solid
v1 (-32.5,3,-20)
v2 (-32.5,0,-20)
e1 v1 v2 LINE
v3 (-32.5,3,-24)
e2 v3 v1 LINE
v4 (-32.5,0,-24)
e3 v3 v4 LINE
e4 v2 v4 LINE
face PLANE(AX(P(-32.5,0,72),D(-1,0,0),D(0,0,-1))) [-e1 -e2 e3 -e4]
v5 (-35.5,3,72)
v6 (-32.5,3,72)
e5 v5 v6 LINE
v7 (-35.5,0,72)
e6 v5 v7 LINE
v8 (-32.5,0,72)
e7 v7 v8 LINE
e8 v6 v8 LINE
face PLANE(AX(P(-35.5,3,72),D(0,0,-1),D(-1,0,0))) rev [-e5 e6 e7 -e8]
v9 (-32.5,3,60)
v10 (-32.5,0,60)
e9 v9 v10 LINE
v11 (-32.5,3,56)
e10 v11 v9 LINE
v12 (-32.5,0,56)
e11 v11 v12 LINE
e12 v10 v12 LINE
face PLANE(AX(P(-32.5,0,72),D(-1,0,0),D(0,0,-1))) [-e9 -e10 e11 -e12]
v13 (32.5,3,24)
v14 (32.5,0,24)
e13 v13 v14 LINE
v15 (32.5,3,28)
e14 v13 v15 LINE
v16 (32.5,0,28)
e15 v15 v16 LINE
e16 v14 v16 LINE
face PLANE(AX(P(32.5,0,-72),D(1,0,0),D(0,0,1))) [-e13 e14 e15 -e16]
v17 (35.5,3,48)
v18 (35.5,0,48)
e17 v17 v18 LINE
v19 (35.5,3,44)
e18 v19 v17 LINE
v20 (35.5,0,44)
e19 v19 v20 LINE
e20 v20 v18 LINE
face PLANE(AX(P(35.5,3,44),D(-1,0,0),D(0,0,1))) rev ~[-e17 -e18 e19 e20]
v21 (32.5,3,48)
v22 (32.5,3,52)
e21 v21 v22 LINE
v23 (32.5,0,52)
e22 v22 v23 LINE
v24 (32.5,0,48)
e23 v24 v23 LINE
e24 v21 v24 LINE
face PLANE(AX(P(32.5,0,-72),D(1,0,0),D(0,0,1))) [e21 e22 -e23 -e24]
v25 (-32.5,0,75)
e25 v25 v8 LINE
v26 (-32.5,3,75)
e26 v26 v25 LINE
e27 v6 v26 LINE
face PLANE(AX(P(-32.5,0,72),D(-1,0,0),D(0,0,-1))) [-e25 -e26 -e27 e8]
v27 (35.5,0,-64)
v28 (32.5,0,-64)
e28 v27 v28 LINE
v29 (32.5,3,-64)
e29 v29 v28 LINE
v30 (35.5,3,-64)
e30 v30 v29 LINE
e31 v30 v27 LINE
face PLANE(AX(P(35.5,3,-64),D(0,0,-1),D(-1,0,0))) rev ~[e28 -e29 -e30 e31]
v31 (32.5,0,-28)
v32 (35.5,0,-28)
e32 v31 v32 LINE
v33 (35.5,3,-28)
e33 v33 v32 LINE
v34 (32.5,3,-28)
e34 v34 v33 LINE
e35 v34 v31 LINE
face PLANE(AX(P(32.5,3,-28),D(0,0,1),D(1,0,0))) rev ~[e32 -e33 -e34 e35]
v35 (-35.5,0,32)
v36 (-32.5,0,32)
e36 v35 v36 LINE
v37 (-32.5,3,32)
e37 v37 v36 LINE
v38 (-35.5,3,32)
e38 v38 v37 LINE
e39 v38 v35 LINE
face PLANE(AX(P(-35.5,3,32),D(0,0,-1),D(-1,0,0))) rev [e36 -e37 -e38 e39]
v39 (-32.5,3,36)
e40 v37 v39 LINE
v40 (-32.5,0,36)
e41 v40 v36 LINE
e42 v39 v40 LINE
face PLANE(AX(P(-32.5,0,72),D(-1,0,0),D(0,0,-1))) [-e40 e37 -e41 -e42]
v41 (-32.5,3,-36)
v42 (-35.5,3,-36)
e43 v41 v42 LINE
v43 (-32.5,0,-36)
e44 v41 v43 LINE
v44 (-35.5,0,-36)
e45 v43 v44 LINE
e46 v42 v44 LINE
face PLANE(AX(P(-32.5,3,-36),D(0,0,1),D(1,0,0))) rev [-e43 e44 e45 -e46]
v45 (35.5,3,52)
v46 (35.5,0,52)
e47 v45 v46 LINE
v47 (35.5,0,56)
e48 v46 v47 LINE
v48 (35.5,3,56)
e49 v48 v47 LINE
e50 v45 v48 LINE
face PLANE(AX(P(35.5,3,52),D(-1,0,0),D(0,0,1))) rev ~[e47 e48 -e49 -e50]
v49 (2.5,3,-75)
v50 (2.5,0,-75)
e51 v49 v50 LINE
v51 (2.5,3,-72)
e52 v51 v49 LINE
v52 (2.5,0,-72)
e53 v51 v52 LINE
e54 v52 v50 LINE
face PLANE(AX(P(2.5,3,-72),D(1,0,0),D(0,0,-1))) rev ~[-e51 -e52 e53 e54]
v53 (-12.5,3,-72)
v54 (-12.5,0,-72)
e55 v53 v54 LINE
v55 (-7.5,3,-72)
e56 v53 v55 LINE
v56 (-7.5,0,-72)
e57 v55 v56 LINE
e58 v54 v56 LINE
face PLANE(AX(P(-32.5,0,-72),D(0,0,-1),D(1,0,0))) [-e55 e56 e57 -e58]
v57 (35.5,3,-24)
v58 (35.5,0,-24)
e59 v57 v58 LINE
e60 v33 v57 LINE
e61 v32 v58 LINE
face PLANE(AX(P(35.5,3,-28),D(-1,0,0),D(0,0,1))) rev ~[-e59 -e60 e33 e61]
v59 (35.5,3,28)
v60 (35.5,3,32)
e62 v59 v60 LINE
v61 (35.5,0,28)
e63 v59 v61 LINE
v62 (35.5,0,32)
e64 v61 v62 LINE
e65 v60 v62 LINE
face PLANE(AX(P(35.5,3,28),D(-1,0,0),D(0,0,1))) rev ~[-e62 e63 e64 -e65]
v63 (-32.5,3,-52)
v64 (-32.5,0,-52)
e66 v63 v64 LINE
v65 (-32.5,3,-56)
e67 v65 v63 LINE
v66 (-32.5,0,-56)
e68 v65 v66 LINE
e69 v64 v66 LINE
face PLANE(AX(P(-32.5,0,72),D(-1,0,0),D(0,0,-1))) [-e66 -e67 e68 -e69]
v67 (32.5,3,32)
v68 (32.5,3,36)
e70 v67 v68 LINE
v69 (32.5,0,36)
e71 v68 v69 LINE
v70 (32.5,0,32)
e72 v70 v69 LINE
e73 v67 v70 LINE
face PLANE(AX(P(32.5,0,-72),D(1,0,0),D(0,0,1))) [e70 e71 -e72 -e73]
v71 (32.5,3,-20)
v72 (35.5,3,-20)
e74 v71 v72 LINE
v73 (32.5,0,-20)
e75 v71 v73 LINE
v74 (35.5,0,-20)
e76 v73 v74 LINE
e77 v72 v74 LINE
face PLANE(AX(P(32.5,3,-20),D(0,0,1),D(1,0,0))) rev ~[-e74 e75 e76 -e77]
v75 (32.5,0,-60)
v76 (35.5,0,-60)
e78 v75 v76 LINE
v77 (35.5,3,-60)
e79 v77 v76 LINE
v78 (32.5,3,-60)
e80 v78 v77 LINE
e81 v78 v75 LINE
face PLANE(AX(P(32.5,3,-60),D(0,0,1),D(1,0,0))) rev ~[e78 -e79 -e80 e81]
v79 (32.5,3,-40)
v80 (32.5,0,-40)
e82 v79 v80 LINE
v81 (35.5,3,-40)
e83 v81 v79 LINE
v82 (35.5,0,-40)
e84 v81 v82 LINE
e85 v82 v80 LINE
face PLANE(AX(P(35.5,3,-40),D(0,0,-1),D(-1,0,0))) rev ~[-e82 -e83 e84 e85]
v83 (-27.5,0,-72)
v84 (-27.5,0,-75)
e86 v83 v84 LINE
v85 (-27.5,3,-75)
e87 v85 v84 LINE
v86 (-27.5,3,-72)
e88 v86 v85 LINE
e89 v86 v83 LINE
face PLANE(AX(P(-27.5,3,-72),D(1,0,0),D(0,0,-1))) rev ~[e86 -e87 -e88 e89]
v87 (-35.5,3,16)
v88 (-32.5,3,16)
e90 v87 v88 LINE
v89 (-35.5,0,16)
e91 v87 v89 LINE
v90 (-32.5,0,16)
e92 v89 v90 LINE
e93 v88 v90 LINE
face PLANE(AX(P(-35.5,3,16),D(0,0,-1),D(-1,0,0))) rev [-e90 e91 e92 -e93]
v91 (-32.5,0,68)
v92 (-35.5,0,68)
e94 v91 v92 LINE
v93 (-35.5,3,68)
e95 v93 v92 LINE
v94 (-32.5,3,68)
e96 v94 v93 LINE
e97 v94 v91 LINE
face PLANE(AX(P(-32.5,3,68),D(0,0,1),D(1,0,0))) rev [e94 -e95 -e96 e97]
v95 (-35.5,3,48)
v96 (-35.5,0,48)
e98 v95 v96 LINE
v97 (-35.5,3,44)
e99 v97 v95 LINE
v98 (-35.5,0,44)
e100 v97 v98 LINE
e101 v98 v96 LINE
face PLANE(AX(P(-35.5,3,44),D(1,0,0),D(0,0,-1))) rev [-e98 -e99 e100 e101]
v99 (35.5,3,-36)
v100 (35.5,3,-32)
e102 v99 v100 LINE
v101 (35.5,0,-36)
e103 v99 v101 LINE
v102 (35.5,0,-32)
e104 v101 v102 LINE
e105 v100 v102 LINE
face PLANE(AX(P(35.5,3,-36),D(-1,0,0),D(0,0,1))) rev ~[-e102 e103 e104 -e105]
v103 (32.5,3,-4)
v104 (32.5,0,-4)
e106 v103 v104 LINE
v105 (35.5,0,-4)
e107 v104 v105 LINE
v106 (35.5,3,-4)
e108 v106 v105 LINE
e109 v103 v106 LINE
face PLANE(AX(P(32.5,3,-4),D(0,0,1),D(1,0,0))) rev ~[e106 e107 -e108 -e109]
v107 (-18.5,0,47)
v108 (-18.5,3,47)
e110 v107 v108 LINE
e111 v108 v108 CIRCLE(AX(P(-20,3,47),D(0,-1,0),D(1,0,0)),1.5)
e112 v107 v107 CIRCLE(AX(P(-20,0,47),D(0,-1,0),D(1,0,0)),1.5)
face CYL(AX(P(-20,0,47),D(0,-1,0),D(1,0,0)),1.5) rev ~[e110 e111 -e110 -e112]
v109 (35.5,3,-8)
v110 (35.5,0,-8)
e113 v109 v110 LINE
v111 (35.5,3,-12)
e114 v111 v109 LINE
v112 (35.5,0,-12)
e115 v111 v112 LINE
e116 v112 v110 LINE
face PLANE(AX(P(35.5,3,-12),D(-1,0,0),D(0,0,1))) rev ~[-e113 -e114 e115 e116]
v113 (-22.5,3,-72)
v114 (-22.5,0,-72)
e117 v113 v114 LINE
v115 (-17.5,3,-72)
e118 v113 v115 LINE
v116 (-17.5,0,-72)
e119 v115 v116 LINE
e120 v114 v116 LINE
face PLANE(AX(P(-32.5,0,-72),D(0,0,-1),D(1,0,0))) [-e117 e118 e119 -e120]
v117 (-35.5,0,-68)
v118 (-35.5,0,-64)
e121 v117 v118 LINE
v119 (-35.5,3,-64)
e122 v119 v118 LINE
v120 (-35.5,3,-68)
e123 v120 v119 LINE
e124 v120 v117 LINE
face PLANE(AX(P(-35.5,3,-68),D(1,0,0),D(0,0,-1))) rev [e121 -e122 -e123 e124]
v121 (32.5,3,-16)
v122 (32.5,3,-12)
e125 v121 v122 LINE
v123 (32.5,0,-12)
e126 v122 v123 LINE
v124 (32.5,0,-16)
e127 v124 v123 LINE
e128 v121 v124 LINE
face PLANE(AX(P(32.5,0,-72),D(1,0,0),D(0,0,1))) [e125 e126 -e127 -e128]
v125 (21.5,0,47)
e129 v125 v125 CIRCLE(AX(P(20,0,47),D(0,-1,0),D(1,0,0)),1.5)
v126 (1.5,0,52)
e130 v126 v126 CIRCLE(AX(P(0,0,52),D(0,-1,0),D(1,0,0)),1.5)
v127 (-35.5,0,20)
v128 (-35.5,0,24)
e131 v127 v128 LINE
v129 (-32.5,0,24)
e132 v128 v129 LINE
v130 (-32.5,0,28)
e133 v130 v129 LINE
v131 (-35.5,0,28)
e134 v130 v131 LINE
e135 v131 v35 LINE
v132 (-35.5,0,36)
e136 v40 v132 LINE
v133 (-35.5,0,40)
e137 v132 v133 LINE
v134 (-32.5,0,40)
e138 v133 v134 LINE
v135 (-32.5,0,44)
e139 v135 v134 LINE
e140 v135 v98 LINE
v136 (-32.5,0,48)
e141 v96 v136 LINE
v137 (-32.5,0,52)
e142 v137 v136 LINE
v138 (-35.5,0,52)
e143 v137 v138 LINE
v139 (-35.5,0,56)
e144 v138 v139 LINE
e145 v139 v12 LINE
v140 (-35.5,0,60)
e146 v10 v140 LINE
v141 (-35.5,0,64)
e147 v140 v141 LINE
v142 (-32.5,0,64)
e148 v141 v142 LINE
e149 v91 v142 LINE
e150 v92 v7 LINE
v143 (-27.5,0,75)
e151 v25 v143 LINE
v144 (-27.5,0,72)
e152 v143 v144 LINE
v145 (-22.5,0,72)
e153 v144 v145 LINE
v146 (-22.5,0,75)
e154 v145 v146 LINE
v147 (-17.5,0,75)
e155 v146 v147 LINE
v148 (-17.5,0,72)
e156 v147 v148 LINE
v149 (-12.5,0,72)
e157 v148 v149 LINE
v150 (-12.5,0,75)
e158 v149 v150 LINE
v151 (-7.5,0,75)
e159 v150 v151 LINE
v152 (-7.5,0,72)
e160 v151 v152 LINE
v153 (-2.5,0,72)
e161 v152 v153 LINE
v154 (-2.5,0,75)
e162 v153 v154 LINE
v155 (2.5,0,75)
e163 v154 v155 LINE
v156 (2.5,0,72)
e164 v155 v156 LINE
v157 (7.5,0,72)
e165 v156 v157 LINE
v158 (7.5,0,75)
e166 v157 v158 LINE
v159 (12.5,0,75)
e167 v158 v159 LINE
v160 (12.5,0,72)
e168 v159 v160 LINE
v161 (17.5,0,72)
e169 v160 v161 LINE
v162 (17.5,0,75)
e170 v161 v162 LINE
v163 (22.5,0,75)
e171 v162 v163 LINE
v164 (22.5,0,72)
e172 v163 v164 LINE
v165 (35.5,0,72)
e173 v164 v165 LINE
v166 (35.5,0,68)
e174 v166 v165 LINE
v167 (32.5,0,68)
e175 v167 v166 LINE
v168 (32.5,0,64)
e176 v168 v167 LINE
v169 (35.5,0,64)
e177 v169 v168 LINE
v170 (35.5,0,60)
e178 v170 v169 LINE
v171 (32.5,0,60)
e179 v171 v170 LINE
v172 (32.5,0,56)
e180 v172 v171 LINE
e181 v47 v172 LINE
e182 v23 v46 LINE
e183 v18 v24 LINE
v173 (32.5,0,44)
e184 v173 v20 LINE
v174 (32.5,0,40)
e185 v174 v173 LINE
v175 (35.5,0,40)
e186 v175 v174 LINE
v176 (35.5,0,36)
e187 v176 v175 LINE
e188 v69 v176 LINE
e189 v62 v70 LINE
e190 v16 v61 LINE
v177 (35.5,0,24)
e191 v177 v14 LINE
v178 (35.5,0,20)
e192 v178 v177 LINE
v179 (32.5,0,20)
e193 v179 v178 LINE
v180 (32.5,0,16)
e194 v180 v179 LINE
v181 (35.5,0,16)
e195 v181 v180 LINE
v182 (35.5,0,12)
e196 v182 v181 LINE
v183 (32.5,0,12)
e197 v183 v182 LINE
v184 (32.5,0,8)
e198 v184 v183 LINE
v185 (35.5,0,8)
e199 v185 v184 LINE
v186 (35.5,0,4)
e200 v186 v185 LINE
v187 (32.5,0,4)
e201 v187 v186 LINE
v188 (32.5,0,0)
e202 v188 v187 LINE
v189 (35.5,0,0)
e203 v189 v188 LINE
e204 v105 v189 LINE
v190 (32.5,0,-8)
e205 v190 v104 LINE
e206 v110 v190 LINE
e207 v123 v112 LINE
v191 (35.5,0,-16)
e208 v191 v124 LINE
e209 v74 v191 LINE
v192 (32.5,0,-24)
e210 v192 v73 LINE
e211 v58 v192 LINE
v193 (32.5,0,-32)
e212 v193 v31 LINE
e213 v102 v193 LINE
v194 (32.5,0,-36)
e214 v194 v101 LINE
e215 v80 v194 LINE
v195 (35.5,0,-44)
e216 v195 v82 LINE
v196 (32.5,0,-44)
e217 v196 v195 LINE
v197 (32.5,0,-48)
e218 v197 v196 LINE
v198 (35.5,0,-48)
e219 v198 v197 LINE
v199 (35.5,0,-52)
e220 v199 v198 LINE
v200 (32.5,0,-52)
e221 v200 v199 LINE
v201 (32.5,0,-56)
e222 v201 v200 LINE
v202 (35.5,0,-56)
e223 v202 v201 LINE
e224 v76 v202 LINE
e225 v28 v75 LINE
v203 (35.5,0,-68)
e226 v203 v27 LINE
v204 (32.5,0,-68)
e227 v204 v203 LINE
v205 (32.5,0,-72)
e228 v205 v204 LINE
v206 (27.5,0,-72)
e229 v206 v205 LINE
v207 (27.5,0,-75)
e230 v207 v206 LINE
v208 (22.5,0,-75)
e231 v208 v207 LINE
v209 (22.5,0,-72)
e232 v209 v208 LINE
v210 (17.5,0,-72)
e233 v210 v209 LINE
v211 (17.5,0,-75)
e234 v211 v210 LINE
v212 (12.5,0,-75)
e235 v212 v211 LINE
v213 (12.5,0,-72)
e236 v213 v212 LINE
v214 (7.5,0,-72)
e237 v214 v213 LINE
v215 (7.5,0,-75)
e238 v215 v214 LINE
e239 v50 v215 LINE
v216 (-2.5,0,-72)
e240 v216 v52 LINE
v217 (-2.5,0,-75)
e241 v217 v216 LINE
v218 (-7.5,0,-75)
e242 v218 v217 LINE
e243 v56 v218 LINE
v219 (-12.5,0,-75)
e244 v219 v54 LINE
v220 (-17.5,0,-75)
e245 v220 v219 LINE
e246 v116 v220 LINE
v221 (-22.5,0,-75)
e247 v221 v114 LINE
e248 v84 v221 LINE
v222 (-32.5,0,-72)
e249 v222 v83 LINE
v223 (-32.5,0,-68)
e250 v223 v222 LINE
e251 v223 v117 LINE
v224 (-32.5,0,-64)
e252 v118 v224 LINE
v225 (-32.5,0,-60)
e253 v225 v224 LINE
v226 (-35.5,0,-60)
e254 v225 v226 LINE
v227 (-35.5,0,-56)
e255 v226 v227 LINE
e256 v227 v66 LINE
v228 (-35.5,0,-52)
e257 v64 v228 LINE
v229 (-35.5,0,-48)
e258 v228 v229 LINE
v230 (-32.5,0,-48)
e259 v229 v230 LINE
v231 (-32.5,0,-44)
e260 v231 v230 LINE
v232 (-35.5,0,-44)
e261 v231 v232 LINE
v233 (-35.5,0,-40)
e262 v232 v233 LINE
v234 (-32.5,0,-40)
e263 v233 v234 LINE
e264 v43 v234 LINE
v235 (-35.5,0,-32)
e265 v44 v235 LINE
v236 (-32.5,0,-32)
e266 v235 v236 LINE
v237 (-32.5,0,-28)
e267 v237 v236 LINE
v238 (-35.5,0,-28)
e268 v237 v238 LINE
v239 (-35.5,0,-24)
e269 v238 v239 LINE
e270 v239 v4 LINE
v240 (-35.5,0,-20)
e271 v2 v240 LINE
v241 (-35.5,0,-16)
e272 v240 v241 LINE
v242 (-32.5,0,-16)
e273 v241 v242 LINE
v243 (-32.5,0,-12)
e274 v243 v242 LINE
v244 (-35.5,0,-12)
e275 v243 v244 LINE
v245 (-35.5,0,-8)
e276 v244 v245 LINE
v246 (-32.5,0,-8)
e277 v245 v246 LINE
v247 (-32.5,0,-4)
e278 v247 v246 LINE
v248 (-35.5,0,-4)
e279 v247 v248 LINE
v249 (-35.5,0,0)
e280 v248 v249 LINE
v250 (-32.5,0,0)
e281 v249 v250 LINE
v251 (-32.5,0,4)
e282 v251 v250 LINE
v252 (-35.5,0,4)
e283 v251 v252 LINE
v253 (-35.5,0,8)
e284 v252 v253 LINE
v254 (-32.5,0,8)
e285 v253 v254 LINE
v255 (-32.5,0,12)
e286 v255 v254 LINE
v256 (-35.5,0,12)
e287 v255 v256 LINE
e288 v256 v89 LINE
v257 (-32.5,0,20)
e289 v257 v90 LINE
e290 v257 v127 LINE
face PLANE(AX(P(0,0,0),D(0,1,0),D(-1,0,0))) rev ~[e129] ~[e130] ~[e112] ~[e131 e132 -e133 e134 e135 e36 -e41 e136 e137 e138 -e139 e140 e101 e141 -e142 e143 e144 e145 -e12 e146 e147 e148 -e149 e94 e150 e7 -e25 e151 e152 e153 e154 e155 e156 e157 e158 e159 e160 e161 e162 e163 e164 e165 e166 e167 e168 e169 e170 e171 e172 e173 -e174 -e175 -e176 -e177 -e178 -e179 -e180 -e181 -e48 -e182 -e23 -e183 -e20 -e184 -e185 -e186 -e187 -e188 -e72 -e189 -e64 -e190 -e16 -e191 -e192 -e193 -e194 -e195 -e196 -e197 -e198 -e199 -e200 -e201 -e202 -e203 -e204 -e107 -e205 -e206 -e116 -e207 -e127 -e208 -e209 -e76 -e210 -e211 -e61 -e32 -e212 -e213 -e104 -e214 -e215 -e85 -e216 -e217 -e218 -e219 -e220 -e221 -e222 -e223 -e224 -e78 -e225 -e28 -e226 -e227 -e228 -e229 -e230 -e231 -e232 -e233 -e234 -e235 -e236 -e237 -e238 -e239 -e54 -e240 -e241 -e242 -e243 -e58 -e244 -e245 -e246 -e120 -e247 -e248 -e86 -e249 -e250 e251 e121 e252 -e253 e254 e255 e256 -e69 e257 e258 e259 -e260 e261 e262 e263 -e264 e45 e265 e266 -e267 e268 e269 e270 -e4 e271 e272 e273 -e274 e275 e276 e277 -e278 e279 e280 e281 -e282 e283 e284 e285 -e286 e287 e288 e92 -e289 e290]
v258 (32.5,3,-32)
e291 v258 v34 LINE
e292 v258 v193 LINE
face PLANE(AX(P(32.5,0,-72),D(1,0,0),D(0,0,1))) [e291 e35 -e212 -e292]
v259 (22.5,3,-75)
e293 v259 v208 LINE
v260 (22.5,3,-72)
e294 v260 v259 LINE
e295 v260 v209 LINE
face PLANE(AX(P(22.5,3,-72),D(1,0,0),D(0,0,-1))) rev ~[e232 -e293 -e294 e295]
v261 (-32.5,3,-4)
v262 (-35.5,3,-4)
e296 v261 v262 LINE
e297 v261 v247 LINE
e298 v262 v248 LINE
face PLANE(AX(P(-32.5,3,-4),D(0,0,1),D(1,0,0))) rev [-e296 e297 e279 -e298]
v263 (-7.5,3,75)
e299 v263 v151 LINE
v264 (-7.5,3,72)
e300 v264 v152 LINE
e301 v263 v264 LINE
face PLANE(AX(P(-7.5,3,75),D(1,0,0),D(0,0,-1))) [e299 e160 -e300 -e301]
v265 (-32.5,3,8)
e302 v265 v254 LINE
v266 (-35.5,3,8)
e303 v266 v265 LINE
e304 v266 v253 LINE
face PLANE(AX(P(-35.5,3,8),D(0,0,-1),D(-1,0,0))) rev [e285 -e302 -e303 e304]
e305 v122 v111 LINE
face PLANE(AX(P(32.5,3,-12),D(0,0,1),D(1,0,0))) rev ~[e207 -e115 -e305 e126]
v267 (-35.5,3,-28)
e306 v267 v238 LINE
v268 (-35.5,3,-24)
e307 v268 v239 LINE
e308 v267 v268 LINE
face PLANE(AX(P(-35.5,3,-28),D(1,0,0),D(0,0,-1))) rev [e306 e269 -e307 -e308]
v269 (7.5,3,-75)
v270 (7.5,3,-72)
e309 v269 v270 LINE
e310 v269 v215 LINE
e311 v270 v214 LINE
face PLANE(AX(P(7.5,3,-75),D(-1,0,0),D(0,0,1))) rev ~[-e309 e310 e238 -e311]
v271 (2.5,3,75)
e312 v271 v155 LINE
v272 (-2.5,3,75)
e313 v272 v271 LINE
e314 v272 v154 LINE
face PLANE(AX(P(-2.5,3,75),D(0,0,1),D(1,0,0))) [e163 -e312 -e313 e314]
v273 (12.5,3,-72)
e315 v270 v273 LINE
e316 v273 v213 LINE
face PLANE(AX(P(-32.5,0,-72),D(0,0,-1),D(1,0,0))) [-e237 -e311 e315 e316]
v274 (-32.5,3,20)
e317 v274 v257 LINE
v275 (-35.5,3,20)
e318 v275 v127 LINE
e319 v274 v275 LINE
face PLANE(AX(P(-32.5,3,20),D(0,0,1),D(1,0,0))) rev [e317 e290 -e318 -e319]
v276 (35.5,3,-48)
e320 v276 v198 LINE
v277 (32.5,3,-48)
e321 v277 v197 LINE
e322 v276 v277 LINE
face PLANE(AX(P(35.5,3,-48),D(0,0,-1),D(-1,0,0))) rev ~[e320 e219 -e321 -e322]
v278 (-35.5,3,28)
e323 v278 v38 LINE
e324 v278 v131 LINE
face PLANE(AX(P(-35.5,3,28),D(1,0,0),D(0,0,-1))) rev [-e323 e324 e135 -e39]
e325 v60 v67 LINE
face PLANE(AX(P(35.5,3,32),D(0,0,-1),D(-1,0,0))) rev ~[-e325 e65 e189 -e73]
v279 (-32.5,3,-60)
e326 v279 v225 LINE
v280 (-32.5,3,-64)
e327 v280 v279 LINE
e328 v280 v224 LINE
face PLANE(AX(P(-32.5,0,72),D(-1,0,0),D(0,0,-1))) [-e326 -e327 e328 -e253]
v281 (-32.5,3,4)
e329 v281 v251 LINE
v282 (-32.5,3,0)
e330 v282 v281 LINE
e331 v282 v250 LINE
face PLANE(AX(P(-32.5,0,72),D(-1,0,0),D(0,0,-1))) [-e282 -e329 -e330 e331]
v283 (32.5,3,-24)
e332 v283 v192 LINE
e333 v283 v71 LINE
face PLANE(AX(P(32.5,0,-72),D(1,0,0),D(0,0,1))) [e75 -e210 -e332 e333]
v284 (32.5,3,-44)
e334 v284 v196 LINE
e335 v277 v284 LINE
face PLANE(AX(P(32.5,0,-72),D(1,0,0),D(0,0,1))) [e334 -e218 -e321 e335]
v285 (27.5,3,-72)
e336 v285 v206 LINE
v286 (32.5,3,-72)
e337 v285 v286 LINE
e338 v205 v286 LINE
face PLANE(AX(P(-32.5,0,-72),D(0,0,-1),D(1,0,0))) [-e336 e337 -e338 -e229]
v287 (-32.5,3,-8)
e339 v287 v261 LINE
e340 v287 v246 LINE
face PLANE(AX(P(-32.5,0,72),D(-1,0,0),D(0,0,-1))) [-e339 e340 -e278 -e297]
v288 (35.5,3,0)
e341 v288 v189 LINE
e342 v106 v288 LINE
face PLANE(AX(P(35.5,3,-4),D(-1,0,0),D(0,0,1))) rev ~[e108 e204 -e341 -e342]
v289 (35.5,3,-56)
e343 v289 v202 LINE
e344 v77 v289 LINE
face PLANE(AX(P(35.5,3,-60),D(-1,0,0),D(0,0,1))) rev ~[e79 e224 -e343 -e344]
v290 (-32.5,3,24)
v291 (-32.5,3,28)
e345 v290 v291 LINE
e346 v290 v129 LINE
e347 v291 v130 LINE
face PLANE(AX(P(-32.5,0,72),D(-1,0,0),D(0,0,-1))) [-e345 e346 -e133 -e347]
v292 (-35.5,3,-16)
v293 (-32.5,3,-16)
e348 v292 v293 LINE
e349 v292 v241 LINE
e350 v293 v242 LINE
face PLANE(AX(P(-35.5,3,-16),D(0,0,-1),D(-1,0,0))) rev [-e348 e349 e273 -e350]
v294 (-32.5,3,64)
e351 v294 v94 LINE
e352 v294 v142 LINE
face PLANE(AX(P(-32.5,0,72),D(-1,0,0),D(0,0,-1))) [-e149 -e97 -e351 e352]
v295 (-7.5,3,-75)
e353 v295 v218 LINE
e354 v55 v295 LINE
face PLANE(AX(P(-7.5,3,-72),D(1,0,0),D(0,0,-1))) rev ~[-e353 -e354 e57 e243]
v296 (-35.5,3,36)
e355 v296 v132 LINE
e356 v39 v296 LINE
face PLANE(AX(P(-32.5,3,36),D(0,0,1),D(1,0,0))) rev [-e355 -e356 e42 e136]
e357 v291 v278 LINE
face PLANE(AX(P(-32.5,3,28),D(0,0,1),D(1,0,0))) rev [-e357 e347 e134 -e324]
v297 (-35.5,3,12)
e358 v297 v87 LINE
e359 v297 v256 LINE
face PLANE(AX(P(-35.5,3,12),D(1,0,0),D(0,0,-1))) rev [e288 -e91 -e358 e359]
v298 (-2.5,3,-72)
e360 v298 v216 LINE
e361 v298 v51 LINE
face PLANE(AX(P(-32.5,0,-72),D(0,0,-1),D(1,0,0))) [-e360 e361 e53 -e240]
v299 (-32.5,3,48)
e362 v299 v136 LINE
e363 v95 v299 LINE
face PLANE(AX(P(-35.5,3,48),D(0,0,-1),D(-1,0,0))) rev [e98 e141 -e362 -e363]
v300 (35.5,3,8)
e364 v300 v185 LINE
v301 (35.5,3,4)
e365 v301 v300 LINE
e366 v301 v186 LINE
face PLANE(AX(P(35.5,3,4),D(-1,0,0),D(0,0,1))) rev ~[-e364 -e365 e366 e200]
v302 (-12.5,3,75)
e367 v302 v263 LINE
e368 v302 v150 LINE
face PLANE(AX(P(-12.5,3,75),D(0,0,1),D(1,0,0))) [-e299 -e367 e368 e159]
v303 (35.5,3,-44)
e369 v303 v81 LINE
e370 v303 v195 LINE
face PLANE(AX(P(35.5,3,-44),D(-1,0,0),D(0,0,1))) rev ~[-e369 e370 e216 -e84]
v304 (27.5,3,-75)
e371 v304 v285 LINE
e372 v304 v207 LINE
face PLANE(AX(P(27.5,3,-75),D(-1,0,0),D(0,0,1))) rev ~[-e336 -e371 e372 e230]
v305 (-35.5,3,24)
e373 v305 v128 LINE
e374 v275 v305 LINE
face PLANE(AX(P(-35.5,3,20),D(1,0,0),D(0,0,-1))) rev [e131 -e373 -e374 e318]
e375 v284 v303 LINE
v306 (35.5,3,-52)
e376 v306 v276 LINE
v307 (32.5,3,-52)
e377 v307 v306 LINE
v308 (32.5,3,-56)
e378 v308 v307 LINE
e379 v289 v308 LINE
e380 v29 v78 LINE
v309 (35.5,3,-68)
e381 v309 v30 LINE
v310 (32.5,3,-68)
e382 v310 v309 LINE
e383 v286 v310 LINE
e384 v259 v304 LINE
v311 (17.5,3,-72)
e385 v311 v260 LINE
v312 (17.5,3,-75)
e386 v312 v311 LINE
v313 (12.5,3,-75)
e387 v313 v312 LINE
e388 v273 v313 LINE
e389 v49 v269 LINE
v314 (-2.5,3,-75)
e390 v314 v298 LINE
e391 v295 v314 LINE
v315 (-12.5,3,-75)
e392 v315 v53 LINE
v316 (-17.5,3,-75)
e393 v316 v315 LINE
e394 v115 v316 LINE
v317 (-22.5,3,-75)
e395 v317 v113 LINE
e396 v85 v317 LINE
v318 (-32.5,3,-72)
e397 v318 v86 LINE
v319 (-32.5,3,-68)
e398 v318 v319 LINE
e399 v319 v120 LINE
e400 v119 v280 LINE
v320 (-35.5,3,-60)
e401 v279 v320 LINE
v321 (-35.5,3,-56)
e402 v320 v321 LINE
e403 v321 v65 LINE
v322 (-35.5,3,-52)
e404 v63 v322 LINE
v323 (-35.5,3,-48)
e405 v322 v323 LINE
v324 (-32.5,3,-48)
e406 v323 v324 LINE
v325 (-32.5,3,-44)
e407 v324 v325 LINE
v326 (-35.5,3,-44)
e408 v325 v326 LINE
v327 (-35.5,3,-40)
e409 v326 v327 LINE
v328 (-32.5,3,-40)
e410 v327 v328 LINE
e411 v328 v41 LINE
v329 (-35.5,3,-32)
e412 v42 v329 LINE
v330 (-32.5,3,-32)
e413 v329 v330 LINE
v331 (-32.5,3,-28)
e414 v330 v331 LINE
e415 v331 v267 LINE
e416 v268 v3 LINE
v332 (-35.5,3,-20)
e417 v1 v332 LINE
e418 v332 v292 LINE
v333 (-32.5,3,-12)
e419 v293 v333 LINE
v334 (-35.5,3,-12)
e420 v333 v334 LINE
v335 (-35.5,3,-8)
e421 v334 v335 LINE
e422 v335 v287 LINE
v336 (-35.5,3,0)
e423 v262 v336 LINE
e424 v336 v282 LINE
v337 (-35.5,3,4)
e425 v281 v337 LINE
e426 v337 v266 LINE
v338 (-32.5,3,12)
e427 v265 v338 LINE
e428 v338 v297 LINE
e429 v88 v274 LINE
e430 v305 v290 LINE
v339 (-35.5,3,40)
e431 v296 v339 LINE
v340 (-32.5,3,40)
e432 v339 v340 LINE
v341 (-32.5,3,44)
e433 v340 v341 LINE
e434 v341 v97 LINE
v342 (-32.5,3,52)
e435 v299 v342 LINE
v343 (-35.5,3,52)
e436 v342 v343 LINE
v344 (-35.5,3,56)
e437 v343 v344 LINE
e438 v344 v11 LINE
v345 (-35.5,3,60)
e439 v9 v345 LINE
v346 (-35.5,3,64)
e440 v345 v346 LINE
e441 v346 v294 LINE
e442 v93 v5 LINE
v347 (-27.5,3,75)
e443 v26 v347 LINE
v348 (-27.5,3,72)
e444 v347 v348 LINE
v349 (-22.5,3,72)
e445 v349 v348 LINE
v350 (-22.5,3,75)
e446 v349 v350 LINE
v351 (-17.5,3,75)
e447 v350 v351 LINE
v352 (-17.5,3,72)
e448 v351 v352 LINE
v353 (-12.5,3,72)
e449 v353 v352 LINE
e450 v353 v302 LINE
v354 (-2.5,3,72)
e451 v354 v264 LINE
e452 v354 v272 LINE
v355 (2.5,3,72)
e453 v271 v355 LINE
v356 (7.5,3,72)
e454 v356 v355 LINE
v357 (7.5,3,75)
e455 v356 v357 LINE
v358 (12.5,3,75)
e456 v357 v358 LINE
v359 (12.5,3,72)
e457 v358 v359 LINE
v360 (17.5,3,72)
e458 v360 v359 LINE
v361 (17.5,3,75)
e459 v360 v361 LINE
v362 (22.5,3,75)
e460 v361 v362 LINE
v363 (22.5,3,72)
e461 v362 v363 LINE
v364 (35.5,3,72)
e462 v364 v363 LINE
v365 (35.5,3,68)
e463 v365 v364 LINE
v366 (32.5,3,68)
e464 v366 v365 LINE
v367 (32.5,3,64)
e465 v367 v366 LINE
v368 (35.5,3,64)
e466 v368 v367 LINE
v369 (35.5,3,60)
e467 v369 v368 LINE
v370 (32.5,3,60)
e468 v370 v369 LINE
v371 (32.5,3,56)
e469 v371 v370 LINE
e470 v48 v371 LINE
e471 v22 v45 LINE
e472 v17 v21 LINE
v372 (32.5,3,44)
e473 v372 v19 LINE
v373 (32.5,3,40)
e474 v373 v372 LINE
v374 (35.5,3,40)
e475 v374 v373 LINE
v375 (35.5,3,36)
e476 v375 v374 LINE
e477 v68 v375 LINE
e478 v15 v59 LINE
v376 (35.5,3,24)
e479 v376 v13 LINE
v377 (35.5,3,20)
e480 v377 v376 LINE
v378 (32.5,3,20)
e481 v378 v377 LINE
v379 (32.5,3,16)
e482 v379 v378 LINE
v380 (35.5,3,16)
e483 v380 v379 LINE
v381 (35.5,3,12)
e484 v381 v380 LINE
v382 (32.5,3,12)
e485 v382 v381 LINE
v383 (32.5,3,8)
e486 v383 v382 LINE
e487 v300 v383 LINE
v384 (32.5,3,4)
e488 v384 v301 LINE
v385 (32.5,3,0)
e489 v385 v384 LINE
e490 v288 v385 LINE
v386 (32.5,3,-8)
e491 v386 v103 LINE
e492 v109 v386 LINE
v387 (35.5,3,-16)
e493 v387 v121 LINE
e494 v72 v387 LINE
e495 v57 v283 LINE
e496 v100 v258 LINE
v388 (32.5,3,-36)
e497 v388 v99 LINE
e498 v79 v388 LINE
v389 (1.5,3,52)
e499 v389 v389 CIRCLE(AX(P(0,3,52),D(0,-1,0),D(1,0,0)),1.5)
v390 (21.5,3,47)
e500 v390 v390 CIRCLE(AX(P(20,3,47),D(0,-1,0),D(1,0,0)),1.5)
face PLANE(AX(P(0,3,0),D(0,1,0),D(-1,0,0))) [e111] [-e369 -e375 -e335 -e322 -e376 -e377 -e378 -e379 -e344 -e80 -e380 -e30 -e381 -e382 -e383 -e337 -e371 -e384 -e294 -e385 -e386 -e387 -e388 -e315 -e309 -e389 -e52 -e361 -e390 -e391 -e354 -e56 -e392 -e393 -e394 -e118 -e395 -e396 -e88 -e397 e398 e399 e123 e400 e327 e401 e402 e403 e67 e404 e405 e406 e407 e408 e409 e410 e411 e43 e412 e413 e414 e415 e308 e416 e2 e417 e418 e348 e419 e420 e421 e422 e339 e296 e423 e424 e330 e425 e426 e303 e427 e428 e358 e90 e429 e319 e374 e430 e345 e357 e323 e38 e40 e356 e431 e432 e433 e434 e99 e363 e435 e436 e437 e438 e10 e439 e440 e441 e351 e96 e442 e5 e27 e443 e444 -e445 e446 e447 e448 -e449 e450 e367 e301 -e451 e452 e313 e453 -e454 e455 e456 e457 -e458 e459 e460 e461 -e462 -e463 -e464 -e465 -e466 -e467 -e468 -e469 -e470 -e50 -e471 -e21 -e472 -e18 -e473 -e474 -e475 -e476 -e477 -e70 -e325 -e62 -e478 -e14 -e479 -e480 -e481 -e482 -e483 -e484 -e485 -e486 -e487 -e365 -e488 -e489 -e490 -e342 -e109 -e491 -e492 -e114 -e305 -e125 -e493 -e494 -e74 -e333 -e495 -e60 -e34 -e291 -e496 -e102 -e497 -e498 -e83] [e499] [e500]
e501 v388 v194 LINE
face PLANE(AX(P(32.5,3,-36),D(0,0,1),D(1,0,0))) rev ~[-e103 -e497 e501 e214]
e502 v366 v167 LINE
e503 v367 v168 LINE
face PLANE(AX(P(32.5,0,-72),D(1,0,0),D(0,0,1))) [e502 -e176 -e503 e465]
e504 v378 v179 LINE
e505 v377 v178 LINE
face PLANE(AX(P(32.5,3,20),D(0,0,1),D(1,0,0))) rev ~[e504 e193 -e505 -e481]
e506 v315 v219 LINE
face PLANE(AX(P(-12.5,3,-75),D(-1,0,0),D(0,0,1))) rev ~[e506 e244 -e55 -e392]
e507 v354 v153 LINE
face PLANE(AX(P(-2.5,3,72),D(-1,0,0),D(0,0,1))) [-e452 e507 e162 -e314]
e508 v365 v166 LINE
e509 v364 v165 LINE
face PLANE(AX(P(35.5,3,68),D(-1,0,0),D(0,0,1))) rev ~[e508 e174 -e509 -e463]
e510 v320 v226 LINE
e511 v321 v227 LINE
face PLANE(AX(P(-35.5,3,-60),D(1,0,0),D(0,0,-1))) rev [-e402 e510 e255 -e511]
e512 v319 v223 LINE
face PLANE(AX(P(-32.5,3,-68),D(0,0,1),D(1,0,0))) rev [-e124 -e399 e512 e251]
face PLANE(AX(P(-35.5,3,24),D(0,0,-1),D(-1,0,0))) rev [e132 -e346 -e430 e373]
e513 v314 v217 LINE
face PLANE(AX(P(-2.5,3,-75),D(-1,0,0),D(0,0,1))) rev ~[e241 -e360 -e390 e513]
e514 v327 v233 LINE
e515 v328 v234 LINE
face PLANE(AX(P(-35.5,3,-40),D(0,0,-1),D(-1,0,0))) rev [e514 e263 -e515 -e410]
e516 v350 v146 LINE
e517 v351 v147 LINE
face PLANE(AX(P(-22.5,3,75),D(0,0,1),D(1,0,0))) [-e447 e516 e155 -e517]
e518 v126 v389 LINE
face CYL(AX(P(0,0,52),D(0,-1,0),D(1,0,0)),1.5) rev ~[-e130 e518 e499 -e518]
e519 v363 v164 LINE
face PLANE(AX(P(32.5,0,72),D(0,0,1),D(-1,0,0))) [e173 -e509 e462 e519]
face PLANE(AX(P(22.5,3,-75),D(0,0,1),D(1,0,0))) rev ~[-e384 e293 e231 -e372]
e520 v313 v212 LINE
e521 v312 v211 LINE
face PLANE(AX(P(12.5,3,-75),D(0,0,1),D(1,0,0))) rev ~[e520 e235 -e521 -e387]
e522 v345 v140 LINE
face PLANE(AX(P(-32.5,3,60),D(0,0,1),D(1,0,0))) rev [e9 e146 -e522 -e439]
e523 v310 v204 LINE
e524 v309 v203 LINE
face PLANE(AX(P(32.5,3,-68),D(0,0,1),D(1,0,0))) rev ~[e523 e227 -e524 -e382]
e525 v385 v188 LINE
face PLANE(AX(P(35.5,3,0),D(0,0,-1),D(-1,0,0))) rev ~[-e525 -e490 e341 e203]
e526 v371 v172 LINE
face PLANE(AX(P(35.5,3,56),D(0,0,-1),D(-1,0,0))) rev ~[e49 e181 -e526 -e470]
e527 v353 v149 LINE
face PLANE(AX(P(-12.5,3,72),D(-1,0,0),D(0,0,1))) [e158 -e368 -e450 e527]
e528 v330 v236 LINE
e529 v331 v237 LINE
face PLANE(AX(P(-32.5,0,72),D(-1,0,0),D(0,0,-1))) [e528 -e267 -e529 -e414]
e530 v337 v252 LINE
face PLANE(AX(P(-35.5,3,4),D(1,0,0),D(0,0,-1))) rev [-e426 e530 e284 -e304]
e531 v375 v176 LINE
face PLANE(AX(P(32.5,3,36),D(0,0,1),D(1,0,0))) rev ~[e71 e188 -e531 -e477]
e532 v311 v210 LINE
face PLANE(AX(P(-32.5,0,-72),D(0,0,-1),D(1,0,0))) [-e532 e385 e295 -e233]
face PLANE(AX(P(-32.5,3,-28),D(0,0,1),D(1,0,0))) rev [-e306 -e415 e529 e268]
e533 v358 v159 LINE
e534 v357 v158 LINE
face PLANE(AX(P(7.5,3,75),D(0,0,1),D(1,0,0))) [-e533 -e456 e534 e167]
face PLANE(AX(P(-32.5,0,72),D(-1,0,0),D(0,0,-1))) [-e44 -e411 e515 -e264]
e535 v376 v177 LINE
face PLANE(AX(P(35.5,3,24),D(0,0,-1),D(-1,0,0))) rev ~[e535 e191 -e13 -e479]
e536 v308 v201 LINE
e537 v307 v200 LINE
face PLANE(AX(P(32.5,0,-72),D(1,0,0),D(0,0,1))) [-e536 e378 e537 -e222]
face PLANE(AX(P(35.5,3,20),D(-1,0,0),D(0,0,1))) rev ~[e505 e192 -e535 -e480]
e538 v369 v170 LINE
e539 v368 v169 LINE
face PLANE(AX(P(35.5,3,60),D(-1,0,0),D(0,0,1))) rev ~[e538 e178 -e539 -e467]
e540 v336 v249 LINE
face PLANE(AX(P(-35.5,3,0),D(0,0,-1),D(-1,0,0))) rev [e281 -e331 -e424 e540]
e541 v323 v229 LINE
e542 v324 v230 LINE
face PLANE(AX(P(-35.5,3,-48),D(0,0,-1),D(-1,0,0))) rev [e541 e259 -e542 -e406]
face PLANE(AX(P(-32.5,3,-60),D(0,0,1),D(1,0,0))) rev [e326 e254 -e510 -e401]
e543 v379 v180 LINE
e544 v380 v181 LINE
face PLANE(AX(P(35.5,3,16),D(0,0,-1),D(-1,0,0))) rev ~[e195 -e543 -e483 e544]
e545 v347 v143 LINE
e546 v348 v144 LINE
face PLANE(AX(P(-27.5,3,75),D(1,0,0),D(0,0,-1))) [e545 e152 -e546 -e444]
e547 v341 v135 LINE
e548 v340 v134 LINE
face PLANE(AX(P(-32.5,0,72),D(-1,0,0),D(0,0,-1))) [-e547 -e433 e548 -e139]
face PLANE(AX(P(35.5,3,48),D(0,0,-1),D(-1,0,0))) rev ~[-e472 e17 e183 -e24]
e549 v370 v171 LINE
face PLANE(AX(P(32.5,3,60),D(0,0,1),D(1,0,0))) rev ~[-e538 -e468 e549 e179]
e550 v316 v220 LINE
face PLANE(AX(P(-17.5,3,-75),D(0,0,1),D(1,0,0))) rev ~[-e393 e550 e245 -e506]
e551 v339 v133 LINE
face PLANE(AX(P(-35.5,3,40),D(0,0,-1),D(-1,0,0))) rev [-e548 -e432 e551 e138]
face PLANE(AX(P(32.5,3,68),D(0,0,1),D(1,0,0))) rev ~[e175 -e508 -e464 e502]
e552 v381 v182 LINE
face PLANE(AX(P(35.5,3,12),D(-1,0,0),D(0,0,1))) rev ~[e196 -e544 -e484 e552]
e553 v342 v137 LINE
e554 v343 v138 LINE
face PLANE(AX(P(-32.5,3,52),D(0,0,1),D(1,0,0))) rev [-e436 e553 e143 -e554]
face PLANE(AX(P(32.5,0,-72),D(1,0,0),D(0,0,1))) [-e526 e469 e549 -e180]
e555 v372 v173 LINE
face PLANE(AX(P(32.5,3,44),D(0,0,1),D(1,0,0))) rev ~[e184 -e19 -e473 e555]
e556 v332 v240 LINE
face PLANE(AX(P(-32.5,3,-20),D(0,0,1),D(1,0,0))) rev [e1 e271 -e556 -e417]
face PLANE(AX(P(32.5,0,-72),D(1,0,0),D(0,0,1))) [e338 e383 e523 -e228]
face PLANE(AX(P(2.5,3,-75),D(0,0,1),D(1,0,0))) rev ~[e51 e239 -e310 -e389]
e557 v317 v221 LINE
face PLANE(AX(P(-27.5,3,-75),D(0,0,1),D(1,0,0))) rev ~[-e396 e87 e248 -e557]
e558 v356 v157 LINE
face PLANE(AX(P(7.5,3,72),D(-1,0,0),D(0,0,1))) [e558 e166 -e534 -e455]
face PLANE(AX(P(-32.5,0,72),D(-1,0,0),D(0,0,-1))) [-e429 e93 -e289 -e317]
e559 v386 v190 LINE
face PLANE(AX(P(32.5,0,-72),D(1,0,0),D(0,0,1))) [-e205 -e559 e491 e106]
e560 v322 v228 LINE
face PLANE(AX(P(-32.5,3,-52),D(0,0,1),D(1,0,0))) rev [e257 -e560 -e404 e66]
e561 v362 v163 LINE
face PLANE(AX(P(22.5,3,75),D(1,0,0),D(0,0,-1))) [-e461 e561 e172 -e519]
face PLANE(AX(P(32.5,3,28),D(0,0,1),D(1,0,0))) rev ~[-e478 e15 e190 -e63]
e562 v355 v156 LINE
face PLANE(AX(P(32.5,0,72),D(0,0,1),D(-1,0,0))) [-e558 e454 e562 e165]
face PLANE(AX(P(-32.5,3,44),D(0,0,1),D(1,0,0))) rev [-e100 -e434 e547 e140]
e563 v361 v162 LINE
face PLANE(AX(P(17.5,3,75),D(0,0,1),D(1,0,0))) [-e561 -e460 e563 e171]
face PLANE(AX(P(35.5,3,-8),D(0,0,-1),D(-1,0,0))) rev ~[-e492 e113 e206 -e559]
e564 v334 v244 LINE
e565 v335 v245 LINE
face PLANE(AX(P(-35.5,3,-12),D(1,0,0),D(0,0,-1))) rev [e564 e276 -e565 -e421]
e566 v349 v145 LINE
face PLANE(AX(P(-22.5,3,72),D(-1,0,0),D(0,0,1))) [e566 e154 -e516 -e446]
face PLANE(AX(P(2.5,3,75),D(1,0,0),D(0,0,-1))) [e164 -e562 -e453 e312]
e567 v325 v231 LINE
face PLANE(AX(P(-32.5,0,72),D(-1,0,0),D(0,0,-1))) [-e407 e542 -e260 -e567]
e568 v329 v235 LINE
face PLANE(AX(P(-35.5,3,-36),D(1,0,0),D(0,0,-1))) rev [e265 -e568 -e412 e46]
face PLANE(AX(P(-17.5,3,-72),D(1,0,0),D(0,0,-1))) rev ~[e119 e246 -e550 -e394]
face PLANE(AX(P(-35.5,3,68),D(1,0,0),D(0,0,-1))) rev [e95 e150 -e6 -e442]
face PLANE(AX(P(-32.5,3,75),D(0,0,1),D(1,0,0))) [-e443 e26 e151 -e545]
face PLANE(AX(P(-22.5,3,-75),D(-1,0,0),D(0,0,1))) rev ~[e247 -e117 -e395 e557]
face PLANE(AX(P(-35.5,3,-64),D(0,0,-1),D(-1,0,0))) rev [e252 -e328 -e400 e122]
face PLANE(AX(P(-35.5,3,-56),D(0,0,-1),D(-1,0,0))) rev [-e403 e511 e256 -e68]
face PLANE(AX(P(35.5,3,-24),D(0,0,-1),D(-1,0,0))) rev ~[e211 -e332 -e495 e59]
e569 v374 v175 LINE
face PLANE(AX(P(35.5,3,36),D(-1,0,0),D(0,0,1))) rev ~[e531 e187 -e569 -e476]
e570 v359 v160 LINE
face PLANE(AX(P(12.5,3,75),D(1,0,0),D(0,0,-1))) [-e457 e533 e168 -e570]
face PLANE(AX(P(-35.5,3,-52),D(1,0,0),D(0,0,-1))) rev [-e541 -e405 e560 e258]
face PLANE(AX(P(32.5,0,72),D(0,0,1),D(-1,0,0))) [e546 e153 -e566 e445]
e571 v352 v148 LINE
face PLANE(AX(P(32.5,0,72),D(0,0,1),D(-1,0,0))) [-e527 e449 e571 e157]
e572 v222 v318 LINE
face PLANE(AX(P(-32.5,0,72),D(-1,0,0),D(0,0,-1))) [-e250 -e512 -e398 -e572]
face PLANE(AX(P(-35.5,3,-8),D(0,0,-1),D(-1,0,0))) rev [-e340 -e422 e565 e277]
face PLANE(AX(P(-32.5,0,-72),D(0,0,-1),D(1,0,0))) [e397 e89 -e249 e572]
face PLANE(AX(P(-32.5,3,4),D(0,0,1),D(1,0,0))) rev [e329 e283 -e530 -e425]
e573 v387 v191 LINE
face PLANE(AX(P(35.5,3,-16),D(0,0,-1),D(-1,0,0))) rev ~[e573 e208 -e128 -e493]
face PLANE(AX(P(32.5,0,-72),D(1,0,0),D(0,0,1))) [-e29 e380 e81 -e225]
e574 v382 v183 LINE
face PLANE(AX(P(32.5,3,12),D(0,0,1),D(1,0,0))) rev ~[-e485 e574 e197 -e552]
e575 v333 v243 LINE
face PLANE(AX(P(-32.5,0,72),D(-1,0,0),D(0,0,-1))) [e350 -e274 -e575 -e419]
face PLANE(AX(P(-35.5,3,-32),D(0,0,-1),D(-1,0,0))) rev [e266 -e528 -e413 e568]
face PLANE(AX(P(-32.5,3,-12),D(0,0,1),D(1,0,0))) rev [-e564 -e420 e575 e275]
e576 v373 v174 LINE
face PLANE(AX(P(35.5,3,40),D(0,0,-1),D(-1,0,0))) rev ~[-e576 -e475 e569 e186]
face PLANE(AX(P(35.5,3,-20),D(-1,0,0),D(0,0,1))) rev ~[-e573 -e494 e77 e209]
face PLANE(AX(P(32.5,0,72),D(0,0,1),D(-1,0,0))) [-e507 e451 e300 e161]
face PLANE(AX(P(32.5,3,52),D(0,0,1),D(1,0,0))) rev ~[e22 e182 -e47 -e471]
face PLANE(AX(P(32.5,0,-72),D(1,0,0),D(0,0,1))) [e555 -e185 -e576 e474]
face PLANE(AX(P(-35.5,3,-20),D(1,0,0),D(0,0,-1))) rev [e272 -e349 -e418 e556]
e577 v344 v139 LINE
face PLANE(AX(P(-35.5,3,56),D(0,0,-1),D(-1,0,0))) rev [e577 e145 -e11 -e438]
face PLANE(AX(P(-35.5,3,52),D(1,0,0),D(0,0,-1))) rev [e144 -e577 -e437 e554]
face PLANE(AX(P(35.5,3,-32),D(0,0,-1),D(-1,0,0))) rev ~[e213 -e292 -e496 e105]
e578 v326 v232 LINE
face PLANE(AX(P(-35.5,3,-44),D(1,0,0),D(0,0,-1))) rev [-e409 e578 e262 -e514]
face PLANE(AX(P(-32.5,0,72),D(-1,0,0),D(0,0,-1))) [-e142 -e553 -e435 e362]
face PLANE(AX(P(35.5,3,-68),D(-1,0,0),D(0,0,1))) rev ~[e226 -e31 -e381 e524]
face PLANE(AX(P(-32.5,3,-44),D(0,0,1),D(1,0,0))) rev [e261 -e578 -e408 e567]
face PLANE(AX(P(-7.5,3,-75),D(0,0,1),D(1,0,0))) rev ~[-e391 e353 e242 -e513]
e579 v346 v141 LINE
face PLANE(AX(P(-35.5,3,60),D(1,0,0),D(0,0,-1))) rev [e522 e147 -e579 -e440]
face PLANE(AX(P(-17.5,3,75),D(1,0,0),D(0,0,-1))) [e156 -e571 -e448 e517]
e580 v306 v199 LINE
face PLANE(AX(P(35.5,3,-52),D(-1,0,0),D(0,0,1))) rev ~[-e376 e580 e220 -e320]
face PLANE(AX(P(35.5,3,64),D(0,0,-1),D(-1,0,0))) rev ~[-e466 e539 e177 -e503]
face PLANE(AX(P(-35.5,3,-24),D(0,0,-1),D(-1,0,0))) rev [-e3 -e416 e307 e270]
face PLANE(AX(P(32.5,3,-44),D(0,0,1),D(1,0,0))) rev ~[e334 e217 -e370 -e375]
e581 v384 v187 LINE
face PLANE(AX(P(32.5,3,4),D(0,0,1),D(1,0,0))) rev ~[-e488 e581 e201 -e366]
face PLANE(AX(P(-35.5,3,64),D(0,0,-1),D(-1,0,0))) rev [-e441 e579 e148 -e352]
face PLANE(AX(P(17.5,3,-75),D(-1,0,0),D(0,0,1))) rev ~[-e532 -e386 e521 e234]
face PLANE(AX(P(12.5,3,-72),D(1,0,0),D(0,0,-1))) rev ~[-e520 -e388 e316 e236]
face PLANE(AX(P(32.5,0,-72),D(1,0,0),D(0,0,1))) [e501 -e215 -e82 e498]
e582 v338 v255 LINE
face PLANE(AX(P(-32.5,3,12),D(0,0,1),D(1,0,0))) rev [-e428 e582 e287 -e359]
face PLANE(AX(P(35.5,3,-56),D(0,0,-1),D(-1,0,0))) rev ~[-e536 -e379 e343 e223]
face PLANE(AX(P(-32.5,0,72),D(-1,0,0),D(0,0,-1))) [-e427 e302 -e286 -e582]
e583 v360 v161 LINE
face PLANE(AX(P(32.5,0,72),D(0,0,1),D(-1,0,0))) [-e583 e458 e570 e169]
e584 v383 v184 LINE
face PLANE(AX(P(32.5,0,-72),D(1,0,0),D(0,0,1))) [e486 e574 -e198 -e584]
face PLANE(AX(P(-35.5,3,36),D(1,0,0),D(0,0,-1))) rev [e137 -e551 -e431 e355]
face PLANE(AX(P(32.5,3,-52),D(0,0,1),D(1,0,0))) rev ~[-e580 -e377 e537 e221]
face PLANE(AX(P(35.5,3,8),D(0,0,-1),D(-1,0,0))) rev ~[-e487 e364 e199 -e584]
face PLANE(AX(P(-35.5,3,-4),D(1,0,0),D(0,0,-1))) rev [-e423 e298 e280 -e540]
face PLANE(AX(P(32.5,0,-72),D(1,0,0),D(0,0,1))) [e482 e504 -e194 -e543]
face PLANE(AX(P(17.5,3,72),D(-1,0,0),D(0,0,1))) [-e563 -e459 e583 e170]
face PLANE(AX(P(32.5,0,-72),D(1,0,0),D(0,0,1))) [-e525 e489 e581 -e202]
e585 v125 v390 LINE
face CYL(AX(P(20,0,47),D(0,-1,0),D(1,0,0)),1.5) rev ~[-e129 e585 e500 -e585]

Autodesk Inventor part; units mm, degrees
ref_plane "YZ Plane" through (0, 0, 0) normal (1, 0, 0) x (0, 1, 0)
ref_plane "XZ Plane" through (0, 0, 0) normal (0, 1, 0) x (-1, 0, 0)
ref_plane "XY Plane" through (0, 0, 0) normal (0, 0, 1) x (1, 0, 0)
sketch "Эскиз1" plane through (0, 0, 0) normal (0, 1, 0) x (-1, 0, 0)
  line L0 (-32.5, 72) -> (32.5, 72)
  line L1 (32.5, 72) -> (32.5, -72)
  line L2 (32.5, -72) -> (-32.5, -72)
  line L3 (-32.5, -72) -> (-32.5, 72)
  line L4 (-32.5, 72) -> (32.5, -72) construction
  line L5 (32.5, 72) -> (-32.5, -72) construction
  point P0 (0, 0)
  point P1 (0, 0)
  dimension "d0" = 65
  dimension "d1" = 144
extrude "Выдавливание1" add sketch "Эскиз1" along normal blind 3
sketch "Эскиз2" plane through (0, 3, 0) normal (0, 1, 0) x (0, 0, -1)
  line L0 (-72, -32.5) -> (72, -32.5) projected
  line L1 (-72, -32.5) -> (-68, -32.5)
  line L2 (-68, -32.5) -> (-68, -35.5)
  line L3 (-68, -35.5) -> (-72, -35.5)
  line L4 (-72, -35.5) -> (-72, -32.5)
  point P0 (0, 0)
  dimension "d5" = 4
  dimension "d6" = 3
extrude "Выдавливание2" add sketch "Эскиз2" against normal blind 3
pattern_linear "Прямоуг.массив1" count 18 spacing 8 along (0, 0, -1) of "Выдавливание2"
sketch "Эскиз3" plane through (0, 3, 0) normal (0, 1, 0) x (0, 0, -1)
  line L0 (72, 32.5) -> (-72, 32.5) projected
  line L1 (-72, 32.5) -> (-75, 32.5)
  line L2 (-75, 32.5) -> (-75, 27.5)
  line L3 (-75, 27.5) -> (-72, 27.5)
  line L4 (-72, 27.5) -> (-72, 32.5)
  line L5 (72, -32.5) -> (72, 32.5) projected
  line L6 (72, 27.5) -> (75, 27.5)
  line L7 (75, 27.5) -> (75, 22.5)
  line L8 (75, 22.5) -> (72, 22.5)
  line L9 (72, 22.5) -> (72, 27.5)
  point P0 (0, 0)
  dimension "d17" = 3
  dimension "d18" = 5
  dimension "d15" = 3
  dimension "d16" = 5
  dimension "d14" = 5
extrude "Выдавливание3" add sketch "Эскиз3" against normal blind 3
pattern_linear "Прямоуг.массив2" count 6 spacing 10 along (1, 0, 0) of "Выдавливание3"
mirror "Зеркальное отражение1" about plane through (0, 0, 0) normal (1, 0, 0) of "Выдавливание2", "Прямоуг.массив1"
sketch "Эскиз4" plane through (0, 0, 0) normal (0, -1, 0) x (1, 0, 0)
  circle A0 centre (0, 52) radius 1.5 projected
  circle A1 centre (-20, 67) radius 1.5 projected
  circle A2 centre (20, 67) radius 1.5 projected
  circle A3 centre (20, 67) radius 1.5 projected
  circle A4 centre (-20, 47) radius 1.5 projected
  circle A5 centre (20, 47) radius 1.5 projected
  point P0 (0, 0)
extrude "Выдавливание4" cut sketch "Эскиз4" against normal blind 10 contours A0 | A4 | A5
properties part number "000.204 - Боковая стенка управляющая"
